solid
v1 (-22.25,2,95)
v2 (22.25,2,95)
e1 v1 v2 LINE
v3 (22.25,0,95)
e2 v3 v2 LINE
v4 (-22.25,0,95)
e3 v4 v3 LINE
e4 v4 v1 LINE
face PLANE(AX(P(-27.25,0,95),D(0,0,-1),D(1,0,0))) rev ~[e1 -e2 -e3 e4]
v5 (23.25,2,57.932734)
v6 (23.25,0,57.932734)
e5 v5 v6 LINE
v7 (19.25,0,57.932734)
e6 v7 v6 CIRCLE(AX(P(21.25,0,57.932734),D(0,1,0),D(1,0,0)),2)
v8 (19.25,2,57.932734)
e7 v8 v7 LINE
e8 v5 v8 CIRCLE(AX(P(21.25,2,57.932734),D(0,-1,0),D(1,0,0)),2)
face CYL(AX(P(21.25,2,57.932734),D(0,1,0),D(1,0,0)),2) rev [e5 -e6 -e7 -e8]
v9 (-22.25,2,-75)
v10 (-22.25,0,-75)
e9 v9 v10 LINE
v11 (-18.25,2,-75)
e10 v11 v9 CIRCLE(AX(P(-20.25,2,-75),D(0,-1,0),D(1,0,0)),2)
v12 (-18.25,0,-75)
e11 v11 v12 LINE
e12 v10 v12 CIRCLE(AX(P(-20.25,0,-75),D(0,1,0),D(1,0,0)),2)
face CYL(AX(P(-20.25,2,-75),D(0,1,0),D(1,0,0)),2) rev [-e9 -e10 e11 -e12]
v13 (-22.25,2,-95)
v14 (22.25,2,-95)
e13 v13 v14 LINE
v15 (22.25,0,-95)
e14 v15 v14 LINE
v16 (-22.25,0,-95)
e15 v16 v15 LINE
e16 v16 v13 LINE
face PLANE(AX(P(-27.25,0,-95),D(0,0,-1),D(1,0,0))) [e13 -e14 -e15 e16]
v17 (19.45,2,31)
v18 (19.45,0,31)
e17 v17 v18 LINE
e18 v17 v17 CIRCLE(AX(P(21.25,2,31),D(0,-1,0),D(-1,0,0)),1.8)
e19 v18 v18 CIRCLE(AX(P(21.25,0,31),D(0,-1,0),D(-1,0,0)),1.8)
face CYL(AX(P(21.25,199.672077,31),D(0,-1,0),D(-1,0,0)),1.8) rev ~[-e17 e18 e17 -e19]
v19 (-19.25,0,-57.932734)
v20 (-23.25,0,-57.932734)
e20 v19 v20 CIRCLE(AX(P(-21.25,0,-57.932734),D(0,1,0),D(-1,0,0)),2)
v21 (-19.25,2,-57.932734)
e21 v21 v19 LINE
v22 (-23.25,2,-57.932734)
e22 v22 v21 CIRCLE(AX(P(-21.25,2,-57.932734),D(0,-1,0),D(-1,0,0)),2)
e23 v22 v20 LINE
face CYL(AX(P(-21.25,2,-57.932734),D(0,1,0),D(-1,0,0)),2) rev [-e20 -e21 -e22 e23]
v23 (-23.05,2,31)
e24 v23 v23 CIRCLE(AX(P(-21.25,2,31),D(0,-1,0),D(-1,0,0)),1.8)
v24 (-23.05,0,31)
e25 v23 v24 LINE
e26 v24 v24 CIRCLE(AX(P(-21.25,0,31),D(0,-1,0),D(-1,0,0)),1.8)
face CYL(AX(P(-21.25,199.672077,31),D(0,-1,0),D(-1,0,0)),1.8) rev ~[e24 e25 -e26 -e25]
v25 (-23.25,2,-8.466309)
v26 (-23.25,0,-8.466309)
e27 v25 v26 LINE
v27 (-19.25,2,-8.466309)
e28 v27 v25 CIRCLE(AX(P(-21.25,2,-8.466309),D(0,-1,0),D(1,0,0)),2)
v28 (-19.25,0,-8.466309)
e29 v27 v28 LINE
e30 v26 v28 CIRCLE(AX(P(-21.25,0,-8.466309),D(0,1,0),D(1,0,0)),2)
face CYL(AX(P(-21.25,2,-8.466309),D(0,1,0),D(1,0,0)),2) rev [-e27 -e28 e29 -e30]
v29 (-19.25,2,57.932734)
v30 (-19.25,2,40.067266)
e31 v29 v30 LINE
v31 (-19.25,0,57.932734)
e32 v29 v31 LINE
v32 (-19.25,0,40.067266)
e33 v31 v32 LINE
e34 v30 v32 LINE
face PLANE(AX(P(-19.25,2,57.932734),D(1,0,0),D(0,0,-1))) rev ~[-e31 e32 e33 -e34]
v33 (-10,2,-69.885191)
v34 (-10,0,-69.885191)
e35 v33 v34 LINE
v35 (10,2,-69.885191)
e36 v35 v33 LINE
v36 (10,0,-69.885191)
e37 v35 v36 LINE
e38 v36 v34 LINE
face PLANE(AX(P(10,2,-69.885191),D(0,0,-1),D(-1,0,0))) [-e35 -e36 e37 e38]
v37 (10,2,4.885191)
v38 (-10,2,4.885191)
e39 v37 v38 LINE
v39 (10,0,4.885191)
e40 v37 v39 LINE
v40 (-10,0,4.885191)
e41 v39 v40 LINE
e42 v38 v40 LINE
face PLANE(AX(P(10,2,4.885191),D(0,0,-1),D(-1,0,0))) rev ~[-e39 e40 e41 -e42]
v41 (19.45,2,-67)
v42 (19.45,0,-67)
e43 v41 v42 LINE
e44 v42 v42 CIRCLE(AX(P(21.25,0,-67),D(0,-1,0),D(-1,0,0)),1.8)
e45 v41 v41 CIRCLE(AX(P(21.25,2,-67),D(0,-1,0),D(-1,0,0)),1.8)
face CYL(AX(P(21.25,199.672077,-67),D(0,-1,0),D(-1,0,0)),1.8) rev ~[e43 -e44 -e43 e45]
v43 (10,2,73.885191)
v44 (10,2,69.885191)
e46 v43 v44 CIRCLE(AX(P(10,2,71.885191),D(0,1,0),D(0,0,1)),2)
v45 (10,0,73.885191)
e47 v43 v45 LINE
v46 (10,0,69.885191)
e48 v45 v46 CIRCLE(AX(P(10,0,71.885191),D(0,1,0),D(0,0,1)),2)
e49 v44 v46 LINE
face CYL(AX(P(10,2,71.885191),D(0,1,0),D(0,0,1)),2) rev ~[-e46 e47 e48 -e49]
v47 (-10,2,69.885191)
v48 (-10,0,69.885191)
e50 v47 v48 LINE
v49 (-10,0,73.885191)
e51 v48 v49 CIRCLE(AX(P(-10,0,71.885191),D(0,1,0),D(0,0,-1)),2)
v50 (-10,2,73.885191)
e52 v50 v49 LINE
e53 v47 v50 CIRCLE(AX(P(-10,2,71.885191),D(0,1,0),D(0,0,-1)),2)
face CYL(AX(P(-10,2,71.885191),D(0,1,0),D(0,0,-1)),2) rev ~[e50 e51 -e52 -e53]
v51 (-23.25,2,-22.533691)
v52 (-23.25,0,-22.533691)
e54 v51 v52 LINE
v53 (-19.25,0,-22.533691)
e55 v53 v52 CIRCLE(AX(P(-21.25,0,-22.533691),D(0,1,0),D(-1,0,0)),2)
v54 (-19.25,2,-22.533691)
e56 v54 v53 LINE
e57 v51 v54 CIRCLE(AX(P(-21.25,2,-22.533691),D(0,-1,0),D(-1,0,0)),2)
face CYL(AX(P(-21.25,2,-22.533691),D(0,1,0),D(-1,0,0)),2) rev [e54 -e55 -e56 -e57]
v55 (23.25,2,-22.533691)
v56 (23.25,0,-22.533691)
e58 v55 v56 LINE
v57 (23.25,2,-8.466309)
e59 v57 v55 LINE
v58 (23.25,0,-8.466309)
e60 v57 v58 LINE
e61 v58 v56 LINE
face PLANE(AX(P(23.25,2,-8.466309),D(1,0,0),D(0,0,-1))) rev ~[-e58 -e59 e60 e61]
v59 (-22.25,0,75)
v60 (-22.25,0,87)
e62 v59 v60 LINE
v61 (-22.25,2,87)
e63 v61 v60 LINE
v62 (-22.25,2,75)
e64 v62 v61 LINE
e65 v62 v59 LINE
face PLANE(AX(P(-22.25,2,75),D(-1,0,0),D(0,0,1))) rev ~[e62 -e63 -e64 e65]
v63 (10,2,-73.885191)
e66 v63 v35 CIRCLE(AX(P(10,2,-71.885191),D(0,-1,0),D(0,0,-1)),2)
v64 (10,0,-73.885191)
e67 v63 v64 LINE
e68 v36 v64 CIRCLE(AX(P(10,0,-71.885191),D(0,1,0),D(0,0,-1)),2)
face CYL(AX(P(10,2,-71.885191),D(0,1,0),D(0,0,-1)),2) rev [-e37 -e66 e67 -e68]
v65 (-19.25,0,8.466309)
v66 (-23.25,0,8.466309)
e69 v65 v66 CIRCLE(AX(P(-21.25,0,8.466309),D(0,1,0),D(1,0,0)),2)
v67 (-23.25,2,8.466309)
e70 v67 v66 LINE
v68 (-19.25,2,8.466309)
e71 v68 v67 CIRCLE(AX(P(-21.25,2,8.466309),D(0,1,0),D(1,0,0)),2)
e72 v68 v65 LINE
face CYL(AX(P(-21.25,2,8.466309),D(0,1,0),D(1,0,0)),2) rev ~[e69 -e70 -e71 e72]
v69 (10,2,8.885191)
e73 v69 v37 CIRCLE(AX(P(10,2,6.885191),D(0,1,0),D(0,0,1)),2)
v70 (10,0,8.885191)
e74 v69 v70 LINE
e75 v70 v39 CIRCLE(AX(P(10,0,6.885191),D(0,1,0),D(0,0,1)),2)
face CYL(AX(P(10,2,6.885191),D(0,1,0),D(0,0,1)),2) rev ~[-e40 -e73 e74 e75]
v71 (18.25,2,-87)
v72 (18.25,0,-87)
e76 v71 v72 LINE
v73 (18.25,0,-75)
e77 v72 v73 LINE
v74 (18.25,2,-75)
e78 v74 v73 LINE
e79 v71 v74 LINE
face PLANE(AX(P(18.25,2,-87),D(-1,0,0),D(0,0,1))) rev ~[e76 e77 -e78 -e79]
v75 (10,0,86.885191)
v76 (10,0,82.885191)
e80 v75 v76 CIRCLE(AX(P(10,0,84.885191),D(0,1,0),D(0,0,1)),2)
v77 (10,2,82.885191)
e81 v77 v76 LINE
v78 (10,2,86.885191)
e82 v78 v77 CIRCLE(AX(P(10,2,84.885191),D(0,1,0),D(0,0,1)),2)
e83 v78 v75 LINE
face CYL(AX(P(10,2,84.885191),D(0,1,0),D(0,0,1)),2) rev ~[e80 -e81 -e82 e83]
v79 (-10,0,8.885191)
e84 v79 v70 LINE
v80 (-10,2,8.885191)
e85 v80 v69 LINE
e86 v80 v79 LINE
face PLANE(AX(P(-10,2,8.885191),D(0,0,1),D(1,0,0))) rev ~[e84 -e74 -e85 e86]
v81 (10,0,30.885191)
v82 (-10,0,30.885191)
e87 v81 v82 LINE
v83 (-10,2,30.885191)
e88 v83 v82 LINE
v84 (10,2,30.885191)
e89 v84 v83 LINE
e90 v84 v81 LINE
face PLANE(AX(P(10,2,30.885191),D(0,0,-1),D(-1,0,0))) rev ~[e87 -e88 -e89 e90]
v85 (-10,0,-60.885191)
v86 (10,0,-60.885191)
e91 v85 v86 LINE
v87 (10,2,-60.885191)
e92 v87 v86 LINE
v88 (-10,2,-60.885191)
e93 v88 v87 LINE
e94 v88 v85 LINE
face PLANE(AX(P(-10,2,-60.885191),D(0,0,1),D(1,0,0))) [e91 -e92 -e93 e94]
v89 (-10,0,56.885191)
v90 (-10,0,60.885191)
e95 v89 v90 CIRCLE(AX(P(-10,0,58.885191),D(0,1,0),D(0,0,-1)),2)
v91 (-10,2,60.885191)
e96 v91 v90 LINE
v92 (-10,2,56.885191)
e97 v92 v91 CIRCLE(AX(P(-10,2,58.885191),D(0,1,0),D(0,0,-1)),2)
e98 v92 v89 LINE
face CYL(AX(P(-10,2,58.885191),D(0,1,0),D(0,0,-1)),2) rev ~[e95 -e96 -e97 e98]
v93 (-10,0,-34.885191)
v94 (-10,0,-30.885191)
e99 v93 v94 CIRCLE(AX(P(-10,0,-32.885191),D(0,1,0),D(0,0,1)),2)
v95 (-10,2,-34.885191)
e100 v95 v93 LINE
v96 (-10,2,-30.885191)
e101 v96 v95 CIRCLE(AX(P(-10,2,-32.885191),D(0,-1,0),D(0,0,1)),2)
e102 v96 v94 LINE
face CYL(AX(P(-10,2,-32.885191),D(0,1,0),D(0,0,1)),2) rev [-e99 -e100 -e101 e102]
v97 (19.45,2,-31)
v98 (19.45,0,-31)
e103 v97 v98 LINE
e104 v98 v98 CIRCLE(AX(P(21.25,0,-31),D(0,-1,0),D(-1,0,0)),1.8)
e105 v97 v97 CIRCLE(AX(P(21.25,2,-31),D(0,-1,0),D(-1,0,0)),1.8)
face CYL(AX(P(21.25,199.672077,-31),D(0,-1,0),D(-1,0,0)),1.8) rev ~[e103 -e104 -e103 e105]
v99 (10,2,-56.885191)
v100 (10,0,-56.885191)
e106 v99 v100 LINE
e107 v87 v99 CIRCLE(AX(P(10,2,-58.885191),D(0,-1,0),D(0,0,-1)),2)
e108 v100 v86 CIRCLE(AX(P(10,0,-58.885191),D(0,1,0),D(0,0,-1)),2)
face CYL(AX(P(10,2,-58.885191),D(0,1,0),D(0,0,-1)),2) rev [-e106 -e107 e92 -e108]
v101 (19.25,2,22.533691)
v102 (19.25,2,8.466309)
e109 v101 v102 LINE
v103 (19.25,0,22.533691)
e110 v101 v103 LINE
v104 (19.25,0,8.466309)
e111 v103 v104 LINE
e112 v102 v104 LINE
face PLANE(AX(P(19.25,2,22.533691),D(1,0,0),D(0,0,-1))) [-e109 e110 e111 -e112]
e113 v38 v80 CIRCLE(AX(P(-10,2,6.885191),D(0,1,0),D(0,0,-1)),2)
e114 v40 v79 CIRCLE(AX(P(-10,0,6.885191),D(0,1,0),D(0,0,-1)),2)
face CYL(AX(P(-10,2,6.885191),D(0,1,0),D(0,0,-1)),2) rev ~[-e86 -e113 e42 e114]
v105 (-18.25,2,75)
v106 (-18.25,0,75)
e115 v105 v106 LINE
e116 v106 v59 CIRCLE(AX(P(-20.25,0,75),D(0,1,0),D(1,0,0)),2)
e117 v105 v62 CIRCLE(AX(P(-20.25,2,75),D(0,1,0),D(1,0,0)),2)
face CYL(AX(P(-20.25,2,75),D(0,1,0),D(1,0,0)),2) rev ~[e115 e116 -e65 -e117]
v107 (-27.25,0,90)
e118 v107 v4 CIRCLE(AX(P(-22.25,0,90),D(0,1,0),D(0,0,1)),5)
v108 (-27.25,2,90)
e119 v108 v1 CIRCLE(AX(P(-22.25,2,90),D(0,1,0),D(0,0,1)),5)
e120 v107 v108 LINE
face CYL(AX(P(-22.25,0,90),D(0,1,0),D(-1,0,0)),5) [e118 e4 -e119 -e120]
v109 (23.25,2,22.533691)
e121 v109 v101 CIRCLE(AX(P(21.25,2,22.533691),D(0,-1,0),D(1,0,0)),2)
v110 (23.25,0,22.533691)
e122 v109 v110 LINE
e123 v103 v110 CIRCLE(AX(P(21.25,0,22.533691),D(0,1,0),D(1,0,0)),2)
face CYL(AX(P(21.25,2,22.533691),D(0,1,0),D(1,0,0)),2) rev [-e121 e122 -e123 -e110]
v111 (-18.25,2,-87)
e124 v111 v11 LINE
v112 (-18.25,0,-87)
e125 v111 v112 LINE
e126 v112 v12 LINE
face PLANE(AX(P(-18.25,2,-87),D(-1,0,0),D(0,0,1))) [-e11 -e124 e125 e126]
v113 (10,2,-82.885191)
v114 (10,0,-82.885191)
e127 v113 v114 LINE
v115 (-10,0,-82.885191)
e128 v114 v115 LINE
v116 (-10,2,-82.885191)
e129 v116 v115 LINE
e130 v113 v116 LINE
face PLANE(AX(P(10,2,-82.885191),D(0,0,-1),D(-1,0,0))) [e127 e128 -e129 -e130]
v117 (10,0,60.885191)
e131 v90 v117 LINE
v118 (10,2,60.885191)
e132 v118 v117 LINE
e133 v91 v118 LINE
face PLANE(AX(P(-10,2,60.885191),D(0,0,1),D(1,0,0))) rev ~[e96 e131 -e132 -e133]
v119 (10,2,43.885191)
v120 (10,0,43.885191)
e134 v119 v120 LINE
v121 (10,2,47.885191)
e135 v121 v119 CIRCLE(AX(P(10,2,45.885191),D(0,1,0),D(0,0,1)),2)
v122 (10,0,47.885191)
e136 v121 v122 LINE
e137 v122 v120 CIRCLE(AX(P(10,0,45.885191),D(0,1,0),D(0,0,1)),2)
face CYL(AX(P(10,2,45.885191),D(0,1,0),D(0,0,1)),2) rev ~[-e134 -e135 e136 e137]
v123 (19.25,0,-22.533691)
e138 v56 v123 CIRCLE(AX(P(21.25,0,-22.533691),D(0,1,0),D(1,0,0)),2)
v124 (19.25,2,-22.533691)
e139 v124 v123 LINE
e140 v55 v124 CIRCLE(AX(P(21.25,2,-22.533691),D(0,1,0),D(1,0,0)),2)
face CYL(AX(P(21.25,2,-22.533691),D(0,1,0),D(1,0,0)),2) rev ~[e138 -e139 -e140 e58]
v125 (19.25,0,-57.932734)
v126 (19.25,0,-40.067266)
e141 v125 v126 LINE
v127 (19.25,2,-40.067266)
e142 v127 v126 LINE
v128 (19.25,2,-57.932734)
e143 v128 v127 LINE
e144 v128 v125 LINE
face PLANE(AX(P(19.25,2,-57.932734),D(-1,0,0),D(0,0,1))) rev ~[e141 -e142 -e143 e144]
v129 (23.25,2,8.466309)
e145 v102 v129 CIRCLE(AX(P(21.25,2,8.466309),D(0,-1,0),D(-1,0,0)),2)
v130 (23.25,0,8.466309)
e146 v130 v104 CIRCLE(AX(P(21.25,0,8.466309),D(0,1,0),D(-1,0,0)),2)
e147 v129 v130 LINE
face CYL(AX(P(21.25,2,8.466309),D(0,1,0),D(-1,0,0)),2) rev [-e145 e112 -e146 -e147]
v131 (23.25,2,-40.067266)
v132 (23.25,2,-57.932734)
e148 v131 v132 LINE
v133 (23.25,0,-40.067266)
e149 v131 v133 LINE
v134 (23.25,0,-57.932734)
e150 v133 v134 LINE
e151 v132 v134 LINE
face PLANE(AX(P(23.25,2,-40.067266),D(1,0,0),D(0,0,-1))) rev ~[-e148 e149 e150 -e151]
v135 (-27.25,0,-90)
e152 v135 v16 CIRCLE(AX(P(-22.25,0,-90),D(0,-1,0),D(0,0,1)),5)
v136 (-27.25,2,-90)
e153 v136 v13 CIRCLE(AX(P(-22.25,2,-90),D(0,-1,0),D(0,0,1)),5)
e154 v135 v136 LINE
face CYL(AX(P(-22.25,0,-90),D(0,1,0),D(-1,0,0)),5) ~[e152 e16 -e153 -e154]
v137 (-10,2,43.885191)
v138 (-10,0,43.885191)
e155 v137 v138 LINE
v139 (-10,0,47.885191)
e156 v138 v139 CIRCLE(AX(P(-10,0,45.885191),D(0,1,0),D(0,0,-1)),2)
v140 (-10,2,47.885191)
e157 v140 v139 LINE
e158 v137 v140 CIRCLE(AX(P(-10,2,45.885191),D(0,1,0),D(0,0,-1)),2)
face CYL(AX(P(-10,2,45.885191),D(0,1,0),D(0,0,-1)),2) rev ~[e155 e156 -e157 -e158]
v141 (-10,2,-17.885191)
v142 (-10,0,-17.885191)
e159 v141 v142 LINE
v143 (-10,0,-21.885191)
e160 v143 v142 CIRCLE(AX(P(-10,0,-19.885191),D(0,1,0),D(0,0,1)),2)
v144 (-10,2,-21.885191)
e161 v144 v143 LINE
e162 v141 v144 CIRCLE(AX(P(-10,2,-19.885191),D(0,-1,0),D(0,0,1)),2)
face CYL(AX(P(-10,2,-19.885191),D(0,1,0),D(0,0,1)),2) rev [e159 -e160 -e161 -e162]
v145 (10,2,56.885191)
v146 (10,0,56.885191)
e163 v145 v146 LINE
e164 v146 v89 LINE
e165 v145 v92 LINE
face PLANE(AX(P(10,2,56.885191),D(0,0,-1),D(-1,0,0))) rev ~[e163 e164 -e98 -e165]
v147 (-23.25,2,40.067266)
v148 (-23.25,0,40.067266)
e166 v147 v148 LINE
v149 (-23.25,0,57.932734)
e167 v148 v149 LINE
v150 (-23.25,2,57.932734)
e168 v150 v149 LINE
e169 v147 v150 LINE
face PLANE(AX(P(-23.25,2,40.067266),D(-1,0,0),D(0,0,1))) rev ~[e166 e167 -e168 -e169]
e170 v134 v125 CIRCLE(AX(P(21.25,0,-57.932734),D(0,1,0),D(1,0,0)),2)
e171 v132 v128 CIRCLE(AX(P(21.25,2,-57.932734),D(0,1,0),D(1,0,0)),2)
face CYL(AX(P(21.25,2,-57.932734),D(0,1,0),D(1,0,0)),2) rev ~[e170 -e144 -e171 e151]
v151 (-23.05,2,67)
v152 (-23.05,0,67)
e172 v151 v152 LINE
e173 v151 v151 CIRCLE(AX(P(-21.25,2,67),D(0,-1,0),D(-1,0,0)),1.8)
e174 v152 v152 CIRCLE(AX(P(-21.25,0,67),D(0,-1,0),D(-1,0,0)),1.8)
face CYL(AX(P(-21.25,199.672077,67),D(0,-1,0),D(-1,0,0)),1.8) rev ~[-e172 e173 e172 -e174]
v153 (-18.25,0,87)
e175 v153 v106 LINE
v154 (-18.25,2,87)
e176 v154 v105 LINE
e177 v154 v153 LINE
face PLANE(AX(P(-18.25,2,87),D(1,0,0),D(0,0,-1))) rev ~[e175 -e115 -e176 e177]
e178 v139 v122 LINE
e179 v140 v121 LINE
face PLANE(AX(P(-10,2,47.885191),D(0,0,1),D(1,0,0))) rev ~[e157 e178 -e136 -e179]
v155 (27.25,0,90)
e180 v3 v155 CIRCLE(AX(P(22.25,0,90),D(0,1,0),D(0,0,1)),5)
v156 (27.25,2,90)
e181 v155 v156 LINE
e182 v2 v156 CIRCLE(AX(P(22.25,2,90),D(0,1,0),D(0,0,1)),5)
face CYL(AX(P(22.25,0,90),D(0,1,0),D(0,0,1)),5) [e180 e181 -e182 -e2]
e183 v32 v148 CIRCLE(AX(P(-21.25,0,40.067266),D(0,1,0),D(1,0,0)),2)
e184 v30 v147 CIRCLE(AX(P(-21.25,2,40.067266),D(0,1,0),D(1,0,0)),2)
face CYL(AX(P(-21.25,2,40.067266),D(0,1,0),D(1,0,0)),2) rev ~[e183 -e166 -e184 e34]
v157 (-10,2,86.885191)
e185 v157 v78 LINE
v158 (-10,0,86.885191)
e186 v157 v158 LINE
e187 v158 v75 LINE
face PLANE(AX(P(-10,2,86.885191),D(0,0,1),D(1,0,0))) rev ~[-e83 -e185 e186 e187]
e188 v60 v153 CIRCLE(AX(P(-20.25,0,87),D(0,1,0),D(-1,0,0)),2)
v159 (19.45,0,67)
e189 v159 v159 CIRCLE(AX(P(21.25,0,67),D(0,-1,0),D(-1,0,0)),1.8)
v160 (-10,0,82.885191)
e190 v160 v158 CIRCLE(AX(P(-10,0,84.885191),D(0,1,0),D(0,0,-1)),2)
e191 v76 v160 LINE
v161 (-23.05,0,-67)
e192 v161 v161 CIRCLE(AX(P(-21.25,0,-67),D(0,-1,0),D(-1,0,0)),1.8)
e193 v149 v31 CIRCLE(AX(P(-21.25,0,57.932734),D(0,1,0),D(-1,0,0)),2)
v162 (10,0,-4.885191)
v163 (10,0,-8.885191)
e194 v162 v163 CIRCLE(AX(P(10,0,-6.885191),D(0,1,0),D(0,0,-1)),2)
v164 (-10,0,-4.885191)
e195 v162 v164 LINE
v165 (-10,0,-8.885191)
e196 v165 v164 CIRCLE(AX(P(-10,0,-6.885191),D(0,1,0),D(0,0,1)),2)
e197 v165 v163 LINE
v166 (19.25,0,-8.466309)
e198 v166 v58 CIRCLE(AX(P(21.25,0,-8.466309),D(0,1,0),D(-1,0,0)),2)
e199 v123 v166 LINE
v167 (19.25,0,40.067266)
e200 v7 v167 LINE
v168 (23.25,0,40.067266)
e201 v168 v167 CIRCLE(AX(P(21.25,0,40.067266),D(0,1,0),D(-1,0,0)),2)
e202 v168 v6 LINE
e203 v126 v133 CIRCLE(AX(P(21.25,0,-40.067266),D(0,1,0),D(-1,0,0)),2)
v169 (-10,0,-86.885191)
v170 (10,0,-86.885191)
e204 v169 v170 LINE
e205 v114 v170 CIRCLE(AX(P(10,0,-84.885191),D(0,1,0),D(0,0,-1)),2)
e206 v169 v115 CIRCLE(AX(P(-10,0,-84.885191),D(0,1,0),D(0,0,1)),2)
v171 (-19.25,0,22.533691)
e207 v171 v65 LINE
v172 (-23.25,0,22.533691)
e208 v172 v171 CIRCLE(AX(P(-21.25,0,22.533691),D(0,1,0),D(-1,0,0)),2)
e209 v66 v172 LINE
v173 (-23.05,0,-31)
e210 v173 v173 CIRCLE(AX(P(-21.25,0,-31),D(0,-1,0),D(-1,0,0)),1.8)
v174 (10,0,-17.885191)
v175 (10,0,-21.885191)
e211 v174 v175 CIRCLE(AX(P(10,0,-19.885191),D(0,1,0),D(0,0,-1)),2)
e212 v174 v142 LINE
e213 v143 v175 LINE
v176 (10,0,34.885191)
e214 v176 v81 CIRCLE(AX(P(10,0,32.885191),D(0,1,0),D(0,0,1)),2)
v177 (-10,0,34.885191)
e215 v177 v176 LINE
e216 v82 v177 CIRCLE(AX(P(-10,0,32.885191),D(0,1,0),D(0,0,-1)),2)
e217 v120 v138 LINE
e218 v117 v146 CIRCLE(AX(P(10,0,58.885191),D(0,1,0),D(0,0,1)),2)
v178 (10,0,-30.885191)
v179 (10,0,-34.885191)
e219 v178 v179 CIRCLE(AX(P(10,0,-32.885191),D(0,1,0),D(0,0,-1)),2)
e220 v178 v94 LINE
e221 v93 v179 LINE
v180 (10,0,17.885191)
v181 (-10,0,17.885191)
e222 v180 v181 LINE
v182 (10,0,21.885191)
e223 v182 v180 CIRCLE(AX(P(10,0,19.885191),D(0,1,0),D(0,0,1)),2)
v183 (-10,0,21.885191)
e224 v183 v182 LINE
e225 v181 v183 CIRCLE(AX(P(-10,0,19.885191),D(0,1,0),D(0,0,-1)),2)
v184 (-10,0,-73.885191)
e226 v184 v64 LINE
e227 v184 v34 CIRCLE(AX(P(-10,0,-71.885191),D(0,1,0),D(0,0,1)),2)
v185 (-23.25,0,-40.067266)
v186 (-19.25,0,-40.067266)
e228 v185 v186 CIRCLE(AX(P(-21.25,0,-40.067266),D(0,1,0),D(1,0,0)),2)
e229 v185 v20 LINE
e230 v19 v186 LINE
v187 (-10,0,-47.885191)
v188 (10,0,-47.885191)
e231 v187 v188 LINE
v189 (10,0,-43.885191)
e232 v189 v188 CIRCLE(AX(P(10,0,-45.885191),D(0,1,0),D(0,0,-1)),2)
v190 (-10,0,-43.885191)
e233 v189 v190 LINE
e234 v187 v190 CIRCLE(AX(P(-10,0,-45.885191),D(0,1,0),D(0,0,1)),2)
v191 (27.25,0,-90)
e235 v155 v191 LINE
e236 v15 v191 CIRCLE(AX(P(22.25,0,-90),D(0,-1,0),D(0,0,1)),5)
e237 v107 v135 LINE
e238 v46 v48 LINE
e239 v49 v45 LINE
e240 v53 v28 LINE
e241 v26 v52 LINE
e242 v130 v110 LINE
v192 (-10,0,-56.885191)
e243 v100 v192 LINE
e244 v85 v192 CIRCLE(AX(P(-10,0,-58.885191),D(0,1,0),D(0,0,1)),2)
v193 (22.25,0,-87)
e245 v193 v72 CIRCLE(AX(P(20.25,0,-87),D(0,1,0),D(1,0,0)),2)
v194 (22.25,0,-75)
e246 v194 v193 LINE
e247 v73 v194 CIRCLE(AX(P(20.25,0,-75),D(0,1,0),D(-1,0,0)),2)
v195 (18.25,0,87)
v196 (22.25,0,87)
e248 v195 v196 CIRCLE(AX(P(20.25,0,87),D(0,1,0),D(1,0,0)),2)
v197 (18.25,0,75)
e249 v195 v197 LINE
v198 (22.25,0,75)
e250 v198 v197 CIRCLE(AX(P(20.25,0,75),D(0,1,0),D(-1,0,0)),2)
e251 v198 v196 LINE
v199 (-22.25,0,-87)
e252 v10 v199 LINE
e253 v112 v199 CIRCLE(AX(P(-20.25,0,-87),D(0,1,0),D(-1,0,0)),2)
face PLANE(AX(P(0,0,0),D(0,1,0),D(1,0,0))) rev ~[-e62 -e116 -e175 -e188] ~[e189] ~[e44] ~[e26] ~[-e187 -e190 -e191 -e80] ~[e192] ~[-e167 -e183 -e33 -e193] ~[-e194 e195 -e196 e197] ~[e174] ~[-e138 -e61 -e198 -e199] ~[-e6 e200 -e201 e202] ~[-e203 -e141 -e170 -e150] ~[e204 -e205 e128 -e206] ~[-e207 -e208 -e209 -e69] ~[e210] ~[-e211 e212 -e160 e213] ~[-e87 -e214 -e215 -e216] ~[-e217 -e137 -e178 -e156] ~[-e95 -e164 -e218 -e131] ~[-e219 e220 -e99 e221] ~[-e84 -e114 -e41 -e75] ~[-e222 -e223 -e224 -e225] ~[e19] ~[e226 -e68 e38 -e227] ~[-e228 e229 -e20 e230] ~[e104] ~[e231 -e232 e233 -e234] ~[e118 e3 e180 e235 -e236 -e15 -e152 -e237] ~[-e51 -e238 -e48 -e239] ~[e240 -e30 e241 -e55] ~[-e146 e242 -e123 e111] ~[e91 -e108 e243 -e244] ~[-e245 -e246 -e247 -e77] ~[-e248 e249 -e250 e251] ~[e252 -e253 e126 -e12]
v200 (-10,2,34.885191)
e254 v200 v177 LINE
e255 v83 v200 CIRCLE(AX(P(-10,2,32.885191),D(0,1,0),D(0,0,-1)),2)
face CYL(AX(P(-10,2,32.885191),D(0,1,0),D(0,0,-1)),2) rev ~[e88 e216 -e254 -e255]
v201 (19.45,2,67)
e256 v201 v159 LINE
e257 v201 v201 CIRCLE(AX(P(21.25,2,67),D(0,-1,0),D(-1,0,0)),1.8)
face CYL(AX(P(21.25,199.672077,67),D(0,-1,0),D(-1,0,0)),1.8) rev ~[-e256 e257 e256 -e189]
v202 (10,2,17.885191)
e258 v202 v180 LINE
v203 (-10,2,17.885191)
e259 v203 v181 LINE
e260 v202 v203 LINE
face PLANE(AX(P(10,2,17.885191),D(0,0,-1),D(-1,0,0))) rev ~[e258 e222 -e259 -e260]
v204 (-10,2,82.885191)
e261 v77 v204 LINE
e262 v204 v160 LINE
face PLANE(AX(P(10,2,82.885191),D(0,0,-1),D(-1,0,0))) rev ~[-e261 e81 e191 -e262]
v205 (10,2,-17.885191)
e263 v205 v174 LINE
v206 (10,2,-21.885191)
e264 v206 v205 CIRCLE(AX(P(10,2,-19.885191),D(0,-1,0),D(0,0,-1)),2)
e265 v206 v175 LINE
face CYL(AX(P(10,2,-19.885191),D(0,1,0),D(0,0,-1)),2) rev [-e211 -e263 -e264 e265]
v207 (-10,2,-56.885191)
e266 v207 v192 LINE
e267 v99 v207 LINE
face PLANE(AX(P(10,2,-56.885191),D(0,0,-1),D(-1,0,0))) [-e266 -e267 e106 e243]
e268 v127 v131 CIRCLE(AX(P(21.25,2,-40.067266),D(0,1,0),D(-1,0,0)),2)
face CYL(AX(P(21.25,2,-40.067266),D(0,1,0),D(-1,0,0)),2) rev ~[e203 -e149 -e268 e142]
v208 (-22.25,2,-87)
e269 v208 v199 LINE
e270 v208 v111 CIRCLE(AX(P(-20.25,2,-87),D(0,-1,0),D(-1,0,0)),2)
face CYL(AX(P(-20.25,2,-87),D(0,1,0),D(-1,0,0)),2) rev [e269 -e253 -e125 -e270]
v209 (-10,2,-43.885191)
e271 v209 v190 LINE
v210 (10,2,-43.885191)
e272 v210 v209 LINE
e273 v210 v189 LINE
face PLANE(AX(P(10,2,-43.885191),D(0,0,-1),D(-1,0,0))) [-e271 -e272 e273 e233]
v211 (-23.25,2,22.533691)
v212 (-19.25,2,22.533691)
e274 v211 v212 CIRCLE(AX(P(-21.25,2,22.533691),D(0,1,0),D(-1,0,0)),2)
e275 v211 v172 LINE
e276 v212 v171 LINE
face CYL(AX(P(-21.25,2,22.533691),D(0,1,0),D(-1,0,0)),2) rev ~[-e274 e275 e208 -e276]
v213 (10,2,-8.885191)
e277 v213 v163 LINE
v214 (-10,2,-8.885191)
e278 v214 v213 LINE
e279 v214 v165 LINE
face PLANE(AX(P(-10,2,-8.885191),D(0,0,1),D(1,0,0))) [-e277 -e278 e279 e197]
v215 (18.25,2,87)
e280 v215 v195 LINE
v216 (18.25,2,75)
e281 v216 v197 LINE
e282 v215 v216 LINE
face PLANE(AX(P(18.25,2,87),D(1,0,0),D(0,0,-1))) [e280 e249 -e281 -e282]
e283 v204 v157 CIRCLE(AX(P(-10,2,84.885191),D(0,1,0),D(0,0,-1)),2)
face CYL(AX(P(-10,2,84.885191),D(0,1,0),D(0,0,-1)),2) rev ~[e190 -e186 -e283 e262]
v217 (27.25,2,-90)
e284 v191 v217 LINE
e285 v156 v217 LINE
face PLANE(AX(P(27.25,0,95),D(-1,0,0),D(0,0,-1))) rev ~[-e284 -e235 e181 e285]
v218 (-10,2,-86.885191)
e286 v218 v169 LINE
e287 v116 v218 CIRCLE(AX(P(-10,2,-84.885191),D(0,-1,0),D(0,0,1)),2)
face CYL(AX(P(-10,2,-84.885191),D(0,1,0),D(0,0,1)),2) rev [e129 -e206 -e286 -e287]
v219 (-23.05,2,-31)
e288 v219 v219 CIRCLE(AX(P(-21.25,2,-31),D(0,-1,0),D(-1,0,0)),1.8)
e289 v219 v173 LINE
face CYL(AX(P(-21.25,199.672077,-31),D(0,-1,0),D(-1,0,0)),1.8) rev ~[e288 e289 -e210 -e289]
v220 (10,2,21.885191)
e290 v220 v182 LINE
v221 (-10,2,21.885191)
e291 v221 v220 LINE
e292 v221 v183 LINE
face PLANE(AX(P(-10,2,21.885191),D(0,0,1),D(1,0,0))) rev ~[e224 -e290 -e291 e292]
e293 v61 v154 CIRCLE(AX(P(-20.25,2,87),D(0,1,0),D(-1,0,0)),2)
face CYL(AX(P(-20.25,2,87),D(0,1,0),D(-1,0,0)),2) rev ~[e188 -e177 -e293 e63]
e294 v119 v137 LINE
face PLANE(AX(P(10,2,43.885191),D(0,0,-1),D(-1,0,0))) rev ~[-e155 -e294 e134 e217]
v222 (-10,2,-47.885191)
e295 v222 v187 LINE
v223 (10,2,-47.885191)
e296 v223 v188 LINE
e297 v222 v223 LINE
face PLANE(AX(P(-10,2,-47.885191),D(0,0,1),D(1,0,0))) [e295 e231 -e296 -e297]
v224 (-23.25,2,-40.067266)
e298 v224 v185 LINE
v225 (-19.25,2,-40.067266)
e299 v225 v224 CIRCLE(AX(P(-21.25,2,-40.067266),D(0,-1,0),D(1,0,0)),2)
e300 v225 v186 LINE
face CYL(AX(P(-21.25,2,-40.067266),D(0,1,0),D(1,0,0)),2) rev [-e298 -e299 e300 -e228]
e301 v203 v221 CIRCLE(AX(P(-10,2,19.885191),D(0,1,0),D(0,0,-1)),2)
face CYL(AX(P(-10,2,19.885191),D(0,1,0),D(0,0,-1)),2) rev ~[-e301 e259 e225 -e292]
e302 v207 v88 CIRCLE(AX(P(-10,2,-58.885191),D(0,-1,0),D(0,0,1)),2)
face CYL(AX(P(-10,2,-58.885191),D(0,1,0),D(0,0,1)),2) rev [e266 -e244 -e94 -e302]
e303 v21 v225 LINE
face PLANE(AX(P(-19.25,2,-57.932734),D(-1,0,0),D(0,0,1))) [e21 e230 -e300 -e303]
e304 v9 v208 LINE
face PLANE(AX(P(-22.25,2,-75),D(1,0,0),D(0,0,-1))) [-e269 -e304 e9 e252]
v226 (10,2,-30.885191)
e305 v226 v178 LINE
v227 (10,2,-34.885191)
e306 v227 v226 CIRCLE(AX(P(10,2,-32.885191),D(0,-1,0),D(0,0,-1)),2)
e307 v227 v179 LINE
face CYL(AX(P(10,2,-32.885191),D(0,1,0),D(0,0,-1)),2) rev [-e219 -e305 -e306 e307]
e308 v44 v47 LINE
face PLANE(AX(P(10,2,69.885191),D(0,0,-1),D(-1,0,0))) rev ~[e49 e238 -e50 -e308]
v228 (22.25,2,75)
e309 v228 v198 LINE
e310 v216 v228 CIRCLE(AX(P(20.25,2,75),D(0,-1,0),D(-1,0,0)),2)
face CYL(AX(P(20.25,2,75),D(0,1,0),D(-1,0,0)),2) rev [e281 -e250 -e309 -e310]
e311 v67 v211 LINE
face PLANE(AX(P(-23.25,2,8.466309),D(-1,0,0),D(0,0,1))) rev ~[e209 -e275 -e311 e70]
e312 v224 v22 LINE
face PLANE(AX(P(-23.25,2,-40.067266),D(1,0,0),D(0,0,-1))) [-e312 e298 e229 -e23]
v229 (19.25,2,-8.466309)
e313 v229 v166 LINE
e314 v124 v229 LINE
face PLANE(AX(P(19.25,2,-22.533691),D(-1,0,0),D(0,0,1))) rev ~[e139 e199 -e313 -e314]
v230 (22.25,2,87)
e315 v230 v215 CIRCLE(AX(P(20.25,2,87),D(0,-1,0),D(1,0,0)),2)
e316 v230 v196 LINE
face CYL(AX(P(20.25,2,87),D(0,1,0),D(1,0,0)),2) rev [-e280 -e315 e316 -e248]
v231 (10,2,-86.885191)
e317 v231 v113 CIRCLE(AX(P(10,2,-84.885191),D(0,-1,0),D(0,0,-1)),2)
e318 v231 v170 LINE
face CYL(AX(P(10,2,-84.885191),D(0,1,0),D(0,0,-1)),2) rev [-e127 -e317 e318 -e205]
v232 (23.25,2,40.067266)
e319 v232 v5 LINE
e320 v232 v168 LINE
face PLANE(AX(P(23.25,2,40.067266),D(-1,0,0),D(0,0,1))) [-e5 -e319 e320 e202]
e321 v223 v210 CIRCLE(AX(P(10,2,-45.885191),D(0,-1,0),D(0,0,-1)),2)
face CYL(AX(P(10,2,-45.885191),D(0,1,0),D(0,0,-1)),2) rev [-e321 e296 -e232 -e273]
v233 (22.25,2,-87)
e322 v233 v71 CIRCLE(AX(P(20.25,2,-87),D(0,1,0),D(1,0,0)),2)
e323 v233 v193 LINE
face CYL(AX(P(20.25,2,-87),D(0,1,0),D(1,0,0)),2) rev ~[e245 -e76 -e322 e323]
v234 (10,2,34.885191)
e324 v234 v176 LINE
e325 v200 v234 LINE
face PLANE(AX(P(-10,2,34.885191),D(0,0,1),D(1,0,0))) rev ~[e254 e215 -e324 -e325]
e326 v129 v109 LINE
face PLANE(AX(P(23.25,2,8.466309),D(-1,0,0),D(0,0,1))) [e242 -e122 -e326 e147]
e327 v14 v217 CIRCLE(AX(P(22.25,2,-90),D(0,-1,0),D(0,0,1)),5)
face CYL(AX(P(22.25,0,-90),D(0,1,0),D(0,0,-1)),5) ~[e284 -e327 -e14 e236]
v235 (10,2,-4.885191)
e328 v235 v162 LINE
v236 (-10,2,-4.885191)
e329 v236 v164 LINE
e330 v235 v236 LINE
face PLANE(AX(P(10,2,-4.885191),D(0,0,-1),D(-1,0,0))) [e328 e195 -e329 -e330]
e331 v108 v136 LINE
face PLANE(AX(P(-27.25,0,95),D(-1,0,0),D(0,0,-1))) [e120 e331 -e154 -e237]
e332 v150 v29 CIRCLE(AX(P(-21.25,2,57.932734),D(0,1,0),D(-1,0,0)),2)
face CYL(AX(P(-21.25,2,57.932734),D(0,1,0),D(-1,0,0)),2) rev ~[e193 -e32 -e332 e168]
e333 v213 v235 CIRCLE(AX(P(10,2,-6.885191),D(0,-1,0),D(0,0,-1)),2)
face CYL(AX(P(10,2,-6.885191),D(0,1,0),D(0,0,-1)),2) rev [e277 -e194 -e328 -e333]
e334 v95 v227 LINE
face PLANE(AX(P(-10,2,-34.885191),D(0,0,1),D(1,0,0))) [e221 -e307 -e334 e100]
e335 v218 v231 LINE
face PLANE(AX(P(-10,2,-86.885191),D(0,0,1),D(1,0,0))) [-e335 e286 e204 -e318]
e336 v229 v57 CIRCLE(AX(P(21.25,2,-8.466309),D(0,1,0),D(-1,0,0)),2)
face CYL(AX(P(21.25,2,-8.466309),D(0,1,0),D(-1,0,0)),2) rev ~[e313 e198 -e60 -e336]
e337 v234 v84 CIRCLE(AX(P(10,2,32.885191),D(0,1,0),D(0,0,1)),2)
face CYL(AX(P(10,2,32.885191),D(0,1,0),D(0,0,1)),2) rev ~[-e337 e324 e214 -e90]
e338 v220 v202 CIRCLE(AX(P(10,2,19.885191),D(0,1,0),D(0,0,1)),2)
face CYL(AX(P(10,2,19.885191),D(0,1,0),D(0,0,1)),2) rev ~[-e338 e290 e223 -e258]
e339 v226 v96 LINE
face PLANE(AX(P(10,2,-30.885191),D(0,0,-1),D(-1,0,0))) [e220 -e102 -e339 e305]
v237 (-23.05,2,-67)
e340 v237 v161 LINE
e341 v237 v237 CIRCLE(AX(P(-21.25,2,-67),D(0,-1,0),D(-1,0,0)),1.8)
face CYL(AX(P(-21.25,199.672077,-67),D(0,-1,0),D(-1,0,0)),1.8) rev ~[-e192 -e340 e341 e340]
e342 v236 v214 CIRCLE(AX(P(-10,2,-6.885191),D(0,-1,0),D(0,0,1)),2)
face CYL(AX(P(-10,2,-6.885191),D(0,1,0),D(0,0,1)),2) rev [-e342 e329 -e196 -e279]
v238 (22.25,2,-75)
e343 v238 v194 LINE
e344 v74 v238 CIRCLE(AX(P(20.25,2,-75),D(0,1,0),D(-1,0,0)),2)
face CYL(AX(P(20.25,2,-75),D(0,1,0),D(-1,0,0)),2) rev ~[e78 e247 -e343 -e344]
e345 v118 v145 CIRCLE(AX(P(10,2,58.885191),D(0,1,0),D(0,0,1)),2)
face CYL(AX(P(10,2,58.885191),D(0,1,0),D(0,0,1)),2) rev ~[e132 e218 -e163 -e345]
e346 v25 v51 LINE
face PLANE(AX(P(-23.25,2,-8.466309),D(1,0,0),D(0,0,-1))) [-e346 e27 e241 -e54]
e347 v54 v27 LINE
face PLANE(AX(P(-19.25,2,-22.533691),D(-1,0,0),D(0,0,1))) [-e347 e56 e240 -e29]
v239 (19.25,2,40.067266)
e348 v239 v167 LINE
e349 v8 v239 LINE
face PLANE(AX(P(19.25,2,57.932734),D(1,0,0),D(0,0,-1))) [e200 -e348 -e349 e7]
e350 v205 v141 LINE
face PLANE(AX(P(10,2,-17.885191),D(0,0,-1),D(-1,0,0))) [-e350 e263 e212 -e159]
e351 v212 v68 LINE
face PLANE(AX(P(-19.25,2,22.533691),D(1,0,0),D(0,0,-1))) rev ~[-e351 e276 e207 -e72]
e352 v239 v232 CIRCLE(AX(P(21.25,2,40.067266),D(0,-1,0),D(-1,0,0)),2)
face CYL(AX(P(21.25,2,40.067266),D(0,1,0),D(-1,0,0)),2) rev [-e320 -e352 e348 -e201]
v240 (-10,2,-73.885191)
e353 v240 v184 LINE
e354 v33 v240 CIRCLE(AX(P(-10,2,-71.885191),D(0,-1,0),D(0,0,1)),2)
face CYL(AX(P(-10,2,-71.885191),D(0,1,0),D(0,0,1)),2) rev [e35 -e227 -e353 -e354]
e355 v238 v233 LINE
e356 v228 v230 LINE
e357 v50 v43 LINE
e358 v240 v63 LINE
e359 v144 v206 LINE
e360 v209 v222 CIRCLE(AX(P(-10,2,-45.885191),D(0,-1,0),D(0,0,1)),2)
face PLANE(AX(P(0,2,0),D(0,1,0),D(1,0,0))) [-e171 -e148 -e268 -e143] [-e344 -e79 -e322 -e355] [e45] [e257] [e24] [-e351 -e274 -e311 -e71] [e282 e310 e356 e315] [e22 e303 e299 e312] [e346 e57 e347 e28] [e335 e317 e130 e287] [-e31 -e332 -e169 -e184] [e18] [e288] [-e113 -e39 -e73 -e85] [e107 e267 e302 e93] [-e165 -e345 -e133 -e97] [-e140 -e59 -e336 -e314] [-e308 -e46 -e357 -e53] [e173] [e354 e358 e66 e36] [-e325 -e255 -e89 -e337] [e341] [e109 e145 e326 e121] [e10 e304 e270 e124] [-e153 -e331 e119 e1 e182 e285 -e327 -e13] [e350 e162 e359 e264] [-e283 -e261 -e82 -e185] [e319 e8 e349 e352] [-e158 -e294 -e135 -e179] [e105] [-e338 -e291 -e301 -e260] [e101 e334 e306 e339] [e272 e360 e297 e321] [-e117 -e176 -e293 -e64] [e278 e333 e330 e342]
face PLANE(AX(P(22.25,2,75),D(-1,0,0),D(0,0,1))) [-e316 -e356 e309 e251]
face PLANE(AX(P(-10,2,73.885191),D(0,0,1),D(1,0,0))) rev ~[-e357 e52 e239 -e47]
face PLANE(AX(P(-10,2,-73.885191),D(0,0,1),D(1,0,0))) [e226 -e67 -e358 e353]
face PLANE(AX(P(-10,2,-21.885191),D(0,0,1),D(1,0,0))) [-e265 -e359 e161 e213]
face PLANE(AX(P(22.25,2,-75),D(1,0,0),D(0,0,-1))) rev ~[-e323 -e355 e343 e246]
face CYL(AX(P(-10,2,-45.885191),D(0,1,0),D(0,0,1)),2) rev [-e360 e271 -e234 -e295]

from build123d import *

# Parameters (mm, degrees)
SKETCH1_W            = 54.5
SKETCH1_H            = 190
BOSS_EXTRUDE1_DEPTH  = 2
M3_CLEARANCE_HOLE1_D = 3.6
CUT_EXTRUDE1_DEPTH   = 99.851213953
FILLET1_R            = 5


with BuildPart() as part:
    # Sketch1 → Boss-Extrude1 (new body)
    with BuildSketch(Plane(origin=(0, 0, 0), x_dir=(1, 0, 0), z_dir=(0, 1, 0))):
        Rectangle(SKETCH1_W, SKETCH1_H)
    extrude(amount=BOSS_EXTRUDE1_DEPTH)

    # M3 Clearance Hole1 (through all)
    with Locations(Plane(origin=(0, 2, 0), x_dir=(1, 0, 0), z_dir=(0, 1, 0))):
        with Locations((-21.25, 67), (-21.25, 31), (21.25, 67), (21.25, 31), (21.25, -31), (21.25, -67), (-21.25, -67), (-21.25, -31)):
            Hole(M3_CLEARANCE_HOLE1_D / 2)

    # Sketch5 → Cut-Extrude1 (cut, through all)
    with BuildSketch(Plane(origin=(0, 2, 0), x_dir=(1, 0, 0), z_dir=(0, 1, 0))):
        with BuildLine():
            Line((-18.25, 87), (-18.25, 75))
            ThreePointArc((-18.25, 75), (-20.25, 73), (-22.25, 75))
            Line((-22.25, 75), (-22.25, 87))
            ThreePointArc((-22.25, 87), (-20.25, 89), (-18.25, 87))
        make_face()
        with BuildLine():
            Line((18.25, 87), (18.25, 75))
            ThreePointArc((18.25, 75), (20.25, 73), (22.25, 75))
            Line((22.25, 75), (22.25, 87))
            ThreePointArc((22.25, 87), (20.25, 89), (18.25, 87))
        make_face()
        with BuildLine():
            Line((-10, 86.885191349), (10, 86.885191349))
            ThreePointArc((10, 86.885191349), (12, 84.885191349), (10, 82.885191349))
            Line((10, 82.885191349), (-10, 82.885191349))
            ThreePointArc((-10, 82.885191349), (-12, 84.885191349), (-10, 86.885191349))
        make_face()
        with BuildLine():
            Line((-10, 73.885191349), (10, 73.885191349))
            ThreePointArc((10, 73.885191349), (12, 71.885191349), (10, 69.885191349))
            Line((10, 69.885191349), (-10, 69.885191349))
            ThreePointArc((-10, 69.885191349), (-12, 71.885191349), (-10, 73.885191349))
        make_face()
        with BuildLine():
            Line((-10, 60.885191349), (10, 60.885191349))
            ThreePointArc((10, 60.885191349), (12, 58.885191349), (10, 56.885191349))
            Line((10, 56.885191349), (-10, 56.885191349))
            ThreePointArc((-10, 56.885191349), (-12, 58.885191349), (-10, 60.885191349))
        make_face()
        with BuildLine():
            Line((-10, 47.885191349), (10, 47.885191349))
            ThreePointArc((10, 47.885191349), (12, 45.885191349), (10, 43.885191349))
            Line((10, 43.885191349), (-10, 43.885191349))
            ThreePointArc((-10, 43.885191349), (-12, 45.885191349), (-10, 47.885191349))
        make_face()
        with BuildLine():
            Line((-10, 34.885191349), (10, 34.885191349))
            ThreePointArc((10, 34.885191349), (12, 32.885191349), (10, 30.885191349))
            Line((10, 30.885191349), (-10, 30.885191349))
            ThreePointArc((-10, 30.885191349), (-12, 32.885191349), (-10, 34.885191349))
        make_face()
        with BuildLine():
            Line((-10, 21.885191349), (10, 21.885191349))
            ThreePointArc((10, 21.885191349), (12, 19.885191349), (10, 17.885191349))
            Line((10, 17.885191349), (-10, 17.885191349))
            ThreePointArc((-10, 17.885191349), (-12, 19.885191349), (-10, 21.885191349))
        make_face()
        with BuildLine():
            Line((-10, 8.885191349), (10, 8.885191349))
            ThreePointArc((10, 8.885191349), (12, 6.885191349), (10, 4.885191349))
            Line((10, 4.885191349), (-10, 4.885191349))
            ThreePointArc((-10, 4.885191349), (-12, 6.885191349), (-10, 8.885191349))
        make_face()
        with BuildLine():
            Line((-19.25, 57.932734115), (-19.25, 40.067265885))
            ThreePointArc((-19.25, 40.067265885), (-21.25, 38.067265885), (-23.25, 40.067265885))
            Line((-23.25, 40.067265885), (-23.25, 57.932734115))
            ThreePointArc((-23.25, 57.932734115), (-21.25, 59.932734115), (-19.25, 57.932734115))
        make_face()
        with BuildLine():
            Line((-19.25, 22.533690779), (-19.25, 8.466309221))
            ThreePointArc((-19.25, 8.466309221), (-21.25, 6.466309221), (-23.25, 8.466309221))
            Line((-23.25, 8.466309221), (-23.25, 22.533690779))
            ThreePointArc((-23.25, 22.533690779), (-21.25, 24.533690779), (-19.25, 22.533690779))
        make_face()
        with BuildLine():
            Line((19.25, 57.932734115), (19.25, 40.067265885))
            ThreePointArc((19.25, 40.067265885), (21.25, 38.067265885), (23.25, 40.067265885))
            Line((23.25, 40.067265885), (23.25, 57.932734115))
            ThreePointArc((23.25, 57.932734115), (21.25, 59.932734115), (19.25, 57.932734115))
        make_face()
        with BuildLine():
            Line((19.25, 22.533690779), (19.25, 8.466309221))
            ThreePointArc((19.25, 8.466309221), (21.25, 6.466309221), (23.25, 8.466309221))
            Line((23.25, 8.466309221), (23.25, 22.533690779))
            ThreePointArc((23.25, 22.533690779), (21.25, 24.533690779), (19.25, 22.533690779))
        make_face()
        with BuildLine():
            Line((-18.25, -87), (-18.25, -75))
            ThreePointArc((-18.25, -75), (-20.25, -73), (-22.25, -75))
            Line((-22.25, -75), (-22.25, -87))
            ThreePointArc((-22.25, -87), (-20.25, -89), (-18.25, -87))
        make_face()
        with BuildLine():
            Line((18.25, -87), (18.25, -75))
            ThreePointArc((18.25, -75), (20.25, -73), (22.25, -75))
            Line((22.25, -75), (22.25, -87))
            ThreePointArc((22.25, -87), (20.25, -89), (18.25, -87))
        make_face()
        with BuildLine():
            Line((-10, -86.885191349), (10, -86.885191349))
            ThreePointArc((10, -86.885191349), (12, -84.885191349), (10, -82.885191349))
            Line((10, -82.885191349), (-10, -82.885191349))
            ThreePointArc((-10, -82.885191349), (-12, -84.885191349), (-10, -86.885191349))
        make_face()
        with BuildLine():
            Line((-10, -73.885191349), (10, -73.885191349))
            ThreePointArc((10, -73.885191349), (12, -71.885191349), (10, -69.885191349))
            Line((10, -69.885191349), (-10, -69.885191349))
            ThreePointArc((-10, -69.885191349), (-12, -71.885191349), (-10, -73.885191349))
        make_face()
        with BuildLine():
            Line((-10, -60.885191349), (10, -60.885191349))
            ThreePointArc((10, -60.885191349), (12, -58.885191349), (10, -56.885191349))
            Line((10, -56.885191349), (-10, -56.885191349))
            ThreePointArc((-10, -56.885191349), (-12, -58.885191349), (-10, -60.885191349))
        make_face()
        with BuildLine():
            Line((-10, -47.885191349), (10, -47.885191349))
            ThreePointArc((10, -47.885191349), (12, -45.885191349), (10, -43.885191349))
            Line((10, -43.885191349), (-10, -43.885191349))
            ThreePointArc((-10, -43.885191349), (-12, -45.885191349), (-10, -47.885191349))
        make_face()
        with BuildLine():
            Line((-10, -34.885191349), (10, -34.885191349))
            ThreePointArc((10, -34.885191349), (12, -32.885191349), (10, -30.885191349))
            Line((10, -30.885191349), (-10, -30.885191349))
            ThreePointArc((-10, -30.885191349), (-12, -32.885191349), (-10, -34.885191349))
        make_face()
        with BuildLine():
            Line((-10, -21.885191349), (10, -21.885191349))
            ThreePointArc((10, -21.885191349), (12, -19.885191349), (10, -17.885191349))
            Line((10, -17.885191349), (-10, -17.885191349))
            ThreePointArc((-10, -17.885191349), (-12, -19.885191349), (-10, -21.885191349))
        make_face()
        with BuildLine():
            Line((-10, -8.885191349), (10, -8.885191349))
            ThreePointArc((10, -8.885191349), (12, -6.885191349), (10, -4.885191349))
            Line((10, -4.885191349), (-10, -4.885191349))
            ThreePointArc((-10, -4.885191349), (-12, -6.885191349), (-10, -8.885191349))
        make_face()
        with BuildLine():
            Line((-19.25, -57.932734115), (-19.25, -40.067265885))
            ThreePointArc((-19.25, -40.067265885), (-21.25, -38.067265885), (-23.25, -40.067265885))
            Line((-23.25, -40.067265885), (-23.25, -57.932734115))
            ThreePointArc((-23.25, -57.932734115), (-21.25, -59.932734115), (-19.25, -57.932734115))
        make_face()
        with BuildLine():
            Line((-19.25, -22.533690779), (-19.25, -8.466309221))
            ThreePointArc((-19.25, -8.466309221), (-21.25, -6.466309221), (-23.25, -8.466309221))
            Line((-23.25, -8.466309221), (-23.25, -22.533690779))
            ThreePointArc((-23.25, -22.533690779), (-21.25, -24.533690779), (-19.25, -22.533690779))
        make_face()
        with BuildLine():
            Line((19.25, -57.932734115), (19.25, -40.067265885))
            ThreePointArc((19.25, -40.067265885), (21.25, -38.067265885), (23.25, -40.067265885))
            Line((23.25, -40.067265885), (23.25, -57.932734115))
            ThreePointArc((23.25, -57.932734115), (21.25, -59.932734115), (19.25, -57.932734115))
        make_face()
        with BuildLine():
            Line((19.25, -22.533690779), (19.25, -8.466309221))
            ThreePointArc((19.25, -8.466309221), (21.25, -6.466309221), (23.25, -8.466309221))
            Line((23.25, -8.466309221), (23.25, -22.533690779))
            ThreePointArc((23.25, -22.533690779), (21.25, -24.533690779), (19.25, -22.533690779))
        make_face()
    extrude(amount=-CUT_EXTRUDE1_DEPTH, mode=Mode.SUBTRACT)

    # Fillet1
    fillet1_edges = [part.edges().sort_by_distance(p)[0] for p in [
        (27.25, 1, 95),
        (-27.25, 1, 95),
        (-27.25, 1, -95),
        (27.25, 1, -95),
    ]]
    fillet(fillet1_edges, radius=FILLET1_R)


solid = part.part
